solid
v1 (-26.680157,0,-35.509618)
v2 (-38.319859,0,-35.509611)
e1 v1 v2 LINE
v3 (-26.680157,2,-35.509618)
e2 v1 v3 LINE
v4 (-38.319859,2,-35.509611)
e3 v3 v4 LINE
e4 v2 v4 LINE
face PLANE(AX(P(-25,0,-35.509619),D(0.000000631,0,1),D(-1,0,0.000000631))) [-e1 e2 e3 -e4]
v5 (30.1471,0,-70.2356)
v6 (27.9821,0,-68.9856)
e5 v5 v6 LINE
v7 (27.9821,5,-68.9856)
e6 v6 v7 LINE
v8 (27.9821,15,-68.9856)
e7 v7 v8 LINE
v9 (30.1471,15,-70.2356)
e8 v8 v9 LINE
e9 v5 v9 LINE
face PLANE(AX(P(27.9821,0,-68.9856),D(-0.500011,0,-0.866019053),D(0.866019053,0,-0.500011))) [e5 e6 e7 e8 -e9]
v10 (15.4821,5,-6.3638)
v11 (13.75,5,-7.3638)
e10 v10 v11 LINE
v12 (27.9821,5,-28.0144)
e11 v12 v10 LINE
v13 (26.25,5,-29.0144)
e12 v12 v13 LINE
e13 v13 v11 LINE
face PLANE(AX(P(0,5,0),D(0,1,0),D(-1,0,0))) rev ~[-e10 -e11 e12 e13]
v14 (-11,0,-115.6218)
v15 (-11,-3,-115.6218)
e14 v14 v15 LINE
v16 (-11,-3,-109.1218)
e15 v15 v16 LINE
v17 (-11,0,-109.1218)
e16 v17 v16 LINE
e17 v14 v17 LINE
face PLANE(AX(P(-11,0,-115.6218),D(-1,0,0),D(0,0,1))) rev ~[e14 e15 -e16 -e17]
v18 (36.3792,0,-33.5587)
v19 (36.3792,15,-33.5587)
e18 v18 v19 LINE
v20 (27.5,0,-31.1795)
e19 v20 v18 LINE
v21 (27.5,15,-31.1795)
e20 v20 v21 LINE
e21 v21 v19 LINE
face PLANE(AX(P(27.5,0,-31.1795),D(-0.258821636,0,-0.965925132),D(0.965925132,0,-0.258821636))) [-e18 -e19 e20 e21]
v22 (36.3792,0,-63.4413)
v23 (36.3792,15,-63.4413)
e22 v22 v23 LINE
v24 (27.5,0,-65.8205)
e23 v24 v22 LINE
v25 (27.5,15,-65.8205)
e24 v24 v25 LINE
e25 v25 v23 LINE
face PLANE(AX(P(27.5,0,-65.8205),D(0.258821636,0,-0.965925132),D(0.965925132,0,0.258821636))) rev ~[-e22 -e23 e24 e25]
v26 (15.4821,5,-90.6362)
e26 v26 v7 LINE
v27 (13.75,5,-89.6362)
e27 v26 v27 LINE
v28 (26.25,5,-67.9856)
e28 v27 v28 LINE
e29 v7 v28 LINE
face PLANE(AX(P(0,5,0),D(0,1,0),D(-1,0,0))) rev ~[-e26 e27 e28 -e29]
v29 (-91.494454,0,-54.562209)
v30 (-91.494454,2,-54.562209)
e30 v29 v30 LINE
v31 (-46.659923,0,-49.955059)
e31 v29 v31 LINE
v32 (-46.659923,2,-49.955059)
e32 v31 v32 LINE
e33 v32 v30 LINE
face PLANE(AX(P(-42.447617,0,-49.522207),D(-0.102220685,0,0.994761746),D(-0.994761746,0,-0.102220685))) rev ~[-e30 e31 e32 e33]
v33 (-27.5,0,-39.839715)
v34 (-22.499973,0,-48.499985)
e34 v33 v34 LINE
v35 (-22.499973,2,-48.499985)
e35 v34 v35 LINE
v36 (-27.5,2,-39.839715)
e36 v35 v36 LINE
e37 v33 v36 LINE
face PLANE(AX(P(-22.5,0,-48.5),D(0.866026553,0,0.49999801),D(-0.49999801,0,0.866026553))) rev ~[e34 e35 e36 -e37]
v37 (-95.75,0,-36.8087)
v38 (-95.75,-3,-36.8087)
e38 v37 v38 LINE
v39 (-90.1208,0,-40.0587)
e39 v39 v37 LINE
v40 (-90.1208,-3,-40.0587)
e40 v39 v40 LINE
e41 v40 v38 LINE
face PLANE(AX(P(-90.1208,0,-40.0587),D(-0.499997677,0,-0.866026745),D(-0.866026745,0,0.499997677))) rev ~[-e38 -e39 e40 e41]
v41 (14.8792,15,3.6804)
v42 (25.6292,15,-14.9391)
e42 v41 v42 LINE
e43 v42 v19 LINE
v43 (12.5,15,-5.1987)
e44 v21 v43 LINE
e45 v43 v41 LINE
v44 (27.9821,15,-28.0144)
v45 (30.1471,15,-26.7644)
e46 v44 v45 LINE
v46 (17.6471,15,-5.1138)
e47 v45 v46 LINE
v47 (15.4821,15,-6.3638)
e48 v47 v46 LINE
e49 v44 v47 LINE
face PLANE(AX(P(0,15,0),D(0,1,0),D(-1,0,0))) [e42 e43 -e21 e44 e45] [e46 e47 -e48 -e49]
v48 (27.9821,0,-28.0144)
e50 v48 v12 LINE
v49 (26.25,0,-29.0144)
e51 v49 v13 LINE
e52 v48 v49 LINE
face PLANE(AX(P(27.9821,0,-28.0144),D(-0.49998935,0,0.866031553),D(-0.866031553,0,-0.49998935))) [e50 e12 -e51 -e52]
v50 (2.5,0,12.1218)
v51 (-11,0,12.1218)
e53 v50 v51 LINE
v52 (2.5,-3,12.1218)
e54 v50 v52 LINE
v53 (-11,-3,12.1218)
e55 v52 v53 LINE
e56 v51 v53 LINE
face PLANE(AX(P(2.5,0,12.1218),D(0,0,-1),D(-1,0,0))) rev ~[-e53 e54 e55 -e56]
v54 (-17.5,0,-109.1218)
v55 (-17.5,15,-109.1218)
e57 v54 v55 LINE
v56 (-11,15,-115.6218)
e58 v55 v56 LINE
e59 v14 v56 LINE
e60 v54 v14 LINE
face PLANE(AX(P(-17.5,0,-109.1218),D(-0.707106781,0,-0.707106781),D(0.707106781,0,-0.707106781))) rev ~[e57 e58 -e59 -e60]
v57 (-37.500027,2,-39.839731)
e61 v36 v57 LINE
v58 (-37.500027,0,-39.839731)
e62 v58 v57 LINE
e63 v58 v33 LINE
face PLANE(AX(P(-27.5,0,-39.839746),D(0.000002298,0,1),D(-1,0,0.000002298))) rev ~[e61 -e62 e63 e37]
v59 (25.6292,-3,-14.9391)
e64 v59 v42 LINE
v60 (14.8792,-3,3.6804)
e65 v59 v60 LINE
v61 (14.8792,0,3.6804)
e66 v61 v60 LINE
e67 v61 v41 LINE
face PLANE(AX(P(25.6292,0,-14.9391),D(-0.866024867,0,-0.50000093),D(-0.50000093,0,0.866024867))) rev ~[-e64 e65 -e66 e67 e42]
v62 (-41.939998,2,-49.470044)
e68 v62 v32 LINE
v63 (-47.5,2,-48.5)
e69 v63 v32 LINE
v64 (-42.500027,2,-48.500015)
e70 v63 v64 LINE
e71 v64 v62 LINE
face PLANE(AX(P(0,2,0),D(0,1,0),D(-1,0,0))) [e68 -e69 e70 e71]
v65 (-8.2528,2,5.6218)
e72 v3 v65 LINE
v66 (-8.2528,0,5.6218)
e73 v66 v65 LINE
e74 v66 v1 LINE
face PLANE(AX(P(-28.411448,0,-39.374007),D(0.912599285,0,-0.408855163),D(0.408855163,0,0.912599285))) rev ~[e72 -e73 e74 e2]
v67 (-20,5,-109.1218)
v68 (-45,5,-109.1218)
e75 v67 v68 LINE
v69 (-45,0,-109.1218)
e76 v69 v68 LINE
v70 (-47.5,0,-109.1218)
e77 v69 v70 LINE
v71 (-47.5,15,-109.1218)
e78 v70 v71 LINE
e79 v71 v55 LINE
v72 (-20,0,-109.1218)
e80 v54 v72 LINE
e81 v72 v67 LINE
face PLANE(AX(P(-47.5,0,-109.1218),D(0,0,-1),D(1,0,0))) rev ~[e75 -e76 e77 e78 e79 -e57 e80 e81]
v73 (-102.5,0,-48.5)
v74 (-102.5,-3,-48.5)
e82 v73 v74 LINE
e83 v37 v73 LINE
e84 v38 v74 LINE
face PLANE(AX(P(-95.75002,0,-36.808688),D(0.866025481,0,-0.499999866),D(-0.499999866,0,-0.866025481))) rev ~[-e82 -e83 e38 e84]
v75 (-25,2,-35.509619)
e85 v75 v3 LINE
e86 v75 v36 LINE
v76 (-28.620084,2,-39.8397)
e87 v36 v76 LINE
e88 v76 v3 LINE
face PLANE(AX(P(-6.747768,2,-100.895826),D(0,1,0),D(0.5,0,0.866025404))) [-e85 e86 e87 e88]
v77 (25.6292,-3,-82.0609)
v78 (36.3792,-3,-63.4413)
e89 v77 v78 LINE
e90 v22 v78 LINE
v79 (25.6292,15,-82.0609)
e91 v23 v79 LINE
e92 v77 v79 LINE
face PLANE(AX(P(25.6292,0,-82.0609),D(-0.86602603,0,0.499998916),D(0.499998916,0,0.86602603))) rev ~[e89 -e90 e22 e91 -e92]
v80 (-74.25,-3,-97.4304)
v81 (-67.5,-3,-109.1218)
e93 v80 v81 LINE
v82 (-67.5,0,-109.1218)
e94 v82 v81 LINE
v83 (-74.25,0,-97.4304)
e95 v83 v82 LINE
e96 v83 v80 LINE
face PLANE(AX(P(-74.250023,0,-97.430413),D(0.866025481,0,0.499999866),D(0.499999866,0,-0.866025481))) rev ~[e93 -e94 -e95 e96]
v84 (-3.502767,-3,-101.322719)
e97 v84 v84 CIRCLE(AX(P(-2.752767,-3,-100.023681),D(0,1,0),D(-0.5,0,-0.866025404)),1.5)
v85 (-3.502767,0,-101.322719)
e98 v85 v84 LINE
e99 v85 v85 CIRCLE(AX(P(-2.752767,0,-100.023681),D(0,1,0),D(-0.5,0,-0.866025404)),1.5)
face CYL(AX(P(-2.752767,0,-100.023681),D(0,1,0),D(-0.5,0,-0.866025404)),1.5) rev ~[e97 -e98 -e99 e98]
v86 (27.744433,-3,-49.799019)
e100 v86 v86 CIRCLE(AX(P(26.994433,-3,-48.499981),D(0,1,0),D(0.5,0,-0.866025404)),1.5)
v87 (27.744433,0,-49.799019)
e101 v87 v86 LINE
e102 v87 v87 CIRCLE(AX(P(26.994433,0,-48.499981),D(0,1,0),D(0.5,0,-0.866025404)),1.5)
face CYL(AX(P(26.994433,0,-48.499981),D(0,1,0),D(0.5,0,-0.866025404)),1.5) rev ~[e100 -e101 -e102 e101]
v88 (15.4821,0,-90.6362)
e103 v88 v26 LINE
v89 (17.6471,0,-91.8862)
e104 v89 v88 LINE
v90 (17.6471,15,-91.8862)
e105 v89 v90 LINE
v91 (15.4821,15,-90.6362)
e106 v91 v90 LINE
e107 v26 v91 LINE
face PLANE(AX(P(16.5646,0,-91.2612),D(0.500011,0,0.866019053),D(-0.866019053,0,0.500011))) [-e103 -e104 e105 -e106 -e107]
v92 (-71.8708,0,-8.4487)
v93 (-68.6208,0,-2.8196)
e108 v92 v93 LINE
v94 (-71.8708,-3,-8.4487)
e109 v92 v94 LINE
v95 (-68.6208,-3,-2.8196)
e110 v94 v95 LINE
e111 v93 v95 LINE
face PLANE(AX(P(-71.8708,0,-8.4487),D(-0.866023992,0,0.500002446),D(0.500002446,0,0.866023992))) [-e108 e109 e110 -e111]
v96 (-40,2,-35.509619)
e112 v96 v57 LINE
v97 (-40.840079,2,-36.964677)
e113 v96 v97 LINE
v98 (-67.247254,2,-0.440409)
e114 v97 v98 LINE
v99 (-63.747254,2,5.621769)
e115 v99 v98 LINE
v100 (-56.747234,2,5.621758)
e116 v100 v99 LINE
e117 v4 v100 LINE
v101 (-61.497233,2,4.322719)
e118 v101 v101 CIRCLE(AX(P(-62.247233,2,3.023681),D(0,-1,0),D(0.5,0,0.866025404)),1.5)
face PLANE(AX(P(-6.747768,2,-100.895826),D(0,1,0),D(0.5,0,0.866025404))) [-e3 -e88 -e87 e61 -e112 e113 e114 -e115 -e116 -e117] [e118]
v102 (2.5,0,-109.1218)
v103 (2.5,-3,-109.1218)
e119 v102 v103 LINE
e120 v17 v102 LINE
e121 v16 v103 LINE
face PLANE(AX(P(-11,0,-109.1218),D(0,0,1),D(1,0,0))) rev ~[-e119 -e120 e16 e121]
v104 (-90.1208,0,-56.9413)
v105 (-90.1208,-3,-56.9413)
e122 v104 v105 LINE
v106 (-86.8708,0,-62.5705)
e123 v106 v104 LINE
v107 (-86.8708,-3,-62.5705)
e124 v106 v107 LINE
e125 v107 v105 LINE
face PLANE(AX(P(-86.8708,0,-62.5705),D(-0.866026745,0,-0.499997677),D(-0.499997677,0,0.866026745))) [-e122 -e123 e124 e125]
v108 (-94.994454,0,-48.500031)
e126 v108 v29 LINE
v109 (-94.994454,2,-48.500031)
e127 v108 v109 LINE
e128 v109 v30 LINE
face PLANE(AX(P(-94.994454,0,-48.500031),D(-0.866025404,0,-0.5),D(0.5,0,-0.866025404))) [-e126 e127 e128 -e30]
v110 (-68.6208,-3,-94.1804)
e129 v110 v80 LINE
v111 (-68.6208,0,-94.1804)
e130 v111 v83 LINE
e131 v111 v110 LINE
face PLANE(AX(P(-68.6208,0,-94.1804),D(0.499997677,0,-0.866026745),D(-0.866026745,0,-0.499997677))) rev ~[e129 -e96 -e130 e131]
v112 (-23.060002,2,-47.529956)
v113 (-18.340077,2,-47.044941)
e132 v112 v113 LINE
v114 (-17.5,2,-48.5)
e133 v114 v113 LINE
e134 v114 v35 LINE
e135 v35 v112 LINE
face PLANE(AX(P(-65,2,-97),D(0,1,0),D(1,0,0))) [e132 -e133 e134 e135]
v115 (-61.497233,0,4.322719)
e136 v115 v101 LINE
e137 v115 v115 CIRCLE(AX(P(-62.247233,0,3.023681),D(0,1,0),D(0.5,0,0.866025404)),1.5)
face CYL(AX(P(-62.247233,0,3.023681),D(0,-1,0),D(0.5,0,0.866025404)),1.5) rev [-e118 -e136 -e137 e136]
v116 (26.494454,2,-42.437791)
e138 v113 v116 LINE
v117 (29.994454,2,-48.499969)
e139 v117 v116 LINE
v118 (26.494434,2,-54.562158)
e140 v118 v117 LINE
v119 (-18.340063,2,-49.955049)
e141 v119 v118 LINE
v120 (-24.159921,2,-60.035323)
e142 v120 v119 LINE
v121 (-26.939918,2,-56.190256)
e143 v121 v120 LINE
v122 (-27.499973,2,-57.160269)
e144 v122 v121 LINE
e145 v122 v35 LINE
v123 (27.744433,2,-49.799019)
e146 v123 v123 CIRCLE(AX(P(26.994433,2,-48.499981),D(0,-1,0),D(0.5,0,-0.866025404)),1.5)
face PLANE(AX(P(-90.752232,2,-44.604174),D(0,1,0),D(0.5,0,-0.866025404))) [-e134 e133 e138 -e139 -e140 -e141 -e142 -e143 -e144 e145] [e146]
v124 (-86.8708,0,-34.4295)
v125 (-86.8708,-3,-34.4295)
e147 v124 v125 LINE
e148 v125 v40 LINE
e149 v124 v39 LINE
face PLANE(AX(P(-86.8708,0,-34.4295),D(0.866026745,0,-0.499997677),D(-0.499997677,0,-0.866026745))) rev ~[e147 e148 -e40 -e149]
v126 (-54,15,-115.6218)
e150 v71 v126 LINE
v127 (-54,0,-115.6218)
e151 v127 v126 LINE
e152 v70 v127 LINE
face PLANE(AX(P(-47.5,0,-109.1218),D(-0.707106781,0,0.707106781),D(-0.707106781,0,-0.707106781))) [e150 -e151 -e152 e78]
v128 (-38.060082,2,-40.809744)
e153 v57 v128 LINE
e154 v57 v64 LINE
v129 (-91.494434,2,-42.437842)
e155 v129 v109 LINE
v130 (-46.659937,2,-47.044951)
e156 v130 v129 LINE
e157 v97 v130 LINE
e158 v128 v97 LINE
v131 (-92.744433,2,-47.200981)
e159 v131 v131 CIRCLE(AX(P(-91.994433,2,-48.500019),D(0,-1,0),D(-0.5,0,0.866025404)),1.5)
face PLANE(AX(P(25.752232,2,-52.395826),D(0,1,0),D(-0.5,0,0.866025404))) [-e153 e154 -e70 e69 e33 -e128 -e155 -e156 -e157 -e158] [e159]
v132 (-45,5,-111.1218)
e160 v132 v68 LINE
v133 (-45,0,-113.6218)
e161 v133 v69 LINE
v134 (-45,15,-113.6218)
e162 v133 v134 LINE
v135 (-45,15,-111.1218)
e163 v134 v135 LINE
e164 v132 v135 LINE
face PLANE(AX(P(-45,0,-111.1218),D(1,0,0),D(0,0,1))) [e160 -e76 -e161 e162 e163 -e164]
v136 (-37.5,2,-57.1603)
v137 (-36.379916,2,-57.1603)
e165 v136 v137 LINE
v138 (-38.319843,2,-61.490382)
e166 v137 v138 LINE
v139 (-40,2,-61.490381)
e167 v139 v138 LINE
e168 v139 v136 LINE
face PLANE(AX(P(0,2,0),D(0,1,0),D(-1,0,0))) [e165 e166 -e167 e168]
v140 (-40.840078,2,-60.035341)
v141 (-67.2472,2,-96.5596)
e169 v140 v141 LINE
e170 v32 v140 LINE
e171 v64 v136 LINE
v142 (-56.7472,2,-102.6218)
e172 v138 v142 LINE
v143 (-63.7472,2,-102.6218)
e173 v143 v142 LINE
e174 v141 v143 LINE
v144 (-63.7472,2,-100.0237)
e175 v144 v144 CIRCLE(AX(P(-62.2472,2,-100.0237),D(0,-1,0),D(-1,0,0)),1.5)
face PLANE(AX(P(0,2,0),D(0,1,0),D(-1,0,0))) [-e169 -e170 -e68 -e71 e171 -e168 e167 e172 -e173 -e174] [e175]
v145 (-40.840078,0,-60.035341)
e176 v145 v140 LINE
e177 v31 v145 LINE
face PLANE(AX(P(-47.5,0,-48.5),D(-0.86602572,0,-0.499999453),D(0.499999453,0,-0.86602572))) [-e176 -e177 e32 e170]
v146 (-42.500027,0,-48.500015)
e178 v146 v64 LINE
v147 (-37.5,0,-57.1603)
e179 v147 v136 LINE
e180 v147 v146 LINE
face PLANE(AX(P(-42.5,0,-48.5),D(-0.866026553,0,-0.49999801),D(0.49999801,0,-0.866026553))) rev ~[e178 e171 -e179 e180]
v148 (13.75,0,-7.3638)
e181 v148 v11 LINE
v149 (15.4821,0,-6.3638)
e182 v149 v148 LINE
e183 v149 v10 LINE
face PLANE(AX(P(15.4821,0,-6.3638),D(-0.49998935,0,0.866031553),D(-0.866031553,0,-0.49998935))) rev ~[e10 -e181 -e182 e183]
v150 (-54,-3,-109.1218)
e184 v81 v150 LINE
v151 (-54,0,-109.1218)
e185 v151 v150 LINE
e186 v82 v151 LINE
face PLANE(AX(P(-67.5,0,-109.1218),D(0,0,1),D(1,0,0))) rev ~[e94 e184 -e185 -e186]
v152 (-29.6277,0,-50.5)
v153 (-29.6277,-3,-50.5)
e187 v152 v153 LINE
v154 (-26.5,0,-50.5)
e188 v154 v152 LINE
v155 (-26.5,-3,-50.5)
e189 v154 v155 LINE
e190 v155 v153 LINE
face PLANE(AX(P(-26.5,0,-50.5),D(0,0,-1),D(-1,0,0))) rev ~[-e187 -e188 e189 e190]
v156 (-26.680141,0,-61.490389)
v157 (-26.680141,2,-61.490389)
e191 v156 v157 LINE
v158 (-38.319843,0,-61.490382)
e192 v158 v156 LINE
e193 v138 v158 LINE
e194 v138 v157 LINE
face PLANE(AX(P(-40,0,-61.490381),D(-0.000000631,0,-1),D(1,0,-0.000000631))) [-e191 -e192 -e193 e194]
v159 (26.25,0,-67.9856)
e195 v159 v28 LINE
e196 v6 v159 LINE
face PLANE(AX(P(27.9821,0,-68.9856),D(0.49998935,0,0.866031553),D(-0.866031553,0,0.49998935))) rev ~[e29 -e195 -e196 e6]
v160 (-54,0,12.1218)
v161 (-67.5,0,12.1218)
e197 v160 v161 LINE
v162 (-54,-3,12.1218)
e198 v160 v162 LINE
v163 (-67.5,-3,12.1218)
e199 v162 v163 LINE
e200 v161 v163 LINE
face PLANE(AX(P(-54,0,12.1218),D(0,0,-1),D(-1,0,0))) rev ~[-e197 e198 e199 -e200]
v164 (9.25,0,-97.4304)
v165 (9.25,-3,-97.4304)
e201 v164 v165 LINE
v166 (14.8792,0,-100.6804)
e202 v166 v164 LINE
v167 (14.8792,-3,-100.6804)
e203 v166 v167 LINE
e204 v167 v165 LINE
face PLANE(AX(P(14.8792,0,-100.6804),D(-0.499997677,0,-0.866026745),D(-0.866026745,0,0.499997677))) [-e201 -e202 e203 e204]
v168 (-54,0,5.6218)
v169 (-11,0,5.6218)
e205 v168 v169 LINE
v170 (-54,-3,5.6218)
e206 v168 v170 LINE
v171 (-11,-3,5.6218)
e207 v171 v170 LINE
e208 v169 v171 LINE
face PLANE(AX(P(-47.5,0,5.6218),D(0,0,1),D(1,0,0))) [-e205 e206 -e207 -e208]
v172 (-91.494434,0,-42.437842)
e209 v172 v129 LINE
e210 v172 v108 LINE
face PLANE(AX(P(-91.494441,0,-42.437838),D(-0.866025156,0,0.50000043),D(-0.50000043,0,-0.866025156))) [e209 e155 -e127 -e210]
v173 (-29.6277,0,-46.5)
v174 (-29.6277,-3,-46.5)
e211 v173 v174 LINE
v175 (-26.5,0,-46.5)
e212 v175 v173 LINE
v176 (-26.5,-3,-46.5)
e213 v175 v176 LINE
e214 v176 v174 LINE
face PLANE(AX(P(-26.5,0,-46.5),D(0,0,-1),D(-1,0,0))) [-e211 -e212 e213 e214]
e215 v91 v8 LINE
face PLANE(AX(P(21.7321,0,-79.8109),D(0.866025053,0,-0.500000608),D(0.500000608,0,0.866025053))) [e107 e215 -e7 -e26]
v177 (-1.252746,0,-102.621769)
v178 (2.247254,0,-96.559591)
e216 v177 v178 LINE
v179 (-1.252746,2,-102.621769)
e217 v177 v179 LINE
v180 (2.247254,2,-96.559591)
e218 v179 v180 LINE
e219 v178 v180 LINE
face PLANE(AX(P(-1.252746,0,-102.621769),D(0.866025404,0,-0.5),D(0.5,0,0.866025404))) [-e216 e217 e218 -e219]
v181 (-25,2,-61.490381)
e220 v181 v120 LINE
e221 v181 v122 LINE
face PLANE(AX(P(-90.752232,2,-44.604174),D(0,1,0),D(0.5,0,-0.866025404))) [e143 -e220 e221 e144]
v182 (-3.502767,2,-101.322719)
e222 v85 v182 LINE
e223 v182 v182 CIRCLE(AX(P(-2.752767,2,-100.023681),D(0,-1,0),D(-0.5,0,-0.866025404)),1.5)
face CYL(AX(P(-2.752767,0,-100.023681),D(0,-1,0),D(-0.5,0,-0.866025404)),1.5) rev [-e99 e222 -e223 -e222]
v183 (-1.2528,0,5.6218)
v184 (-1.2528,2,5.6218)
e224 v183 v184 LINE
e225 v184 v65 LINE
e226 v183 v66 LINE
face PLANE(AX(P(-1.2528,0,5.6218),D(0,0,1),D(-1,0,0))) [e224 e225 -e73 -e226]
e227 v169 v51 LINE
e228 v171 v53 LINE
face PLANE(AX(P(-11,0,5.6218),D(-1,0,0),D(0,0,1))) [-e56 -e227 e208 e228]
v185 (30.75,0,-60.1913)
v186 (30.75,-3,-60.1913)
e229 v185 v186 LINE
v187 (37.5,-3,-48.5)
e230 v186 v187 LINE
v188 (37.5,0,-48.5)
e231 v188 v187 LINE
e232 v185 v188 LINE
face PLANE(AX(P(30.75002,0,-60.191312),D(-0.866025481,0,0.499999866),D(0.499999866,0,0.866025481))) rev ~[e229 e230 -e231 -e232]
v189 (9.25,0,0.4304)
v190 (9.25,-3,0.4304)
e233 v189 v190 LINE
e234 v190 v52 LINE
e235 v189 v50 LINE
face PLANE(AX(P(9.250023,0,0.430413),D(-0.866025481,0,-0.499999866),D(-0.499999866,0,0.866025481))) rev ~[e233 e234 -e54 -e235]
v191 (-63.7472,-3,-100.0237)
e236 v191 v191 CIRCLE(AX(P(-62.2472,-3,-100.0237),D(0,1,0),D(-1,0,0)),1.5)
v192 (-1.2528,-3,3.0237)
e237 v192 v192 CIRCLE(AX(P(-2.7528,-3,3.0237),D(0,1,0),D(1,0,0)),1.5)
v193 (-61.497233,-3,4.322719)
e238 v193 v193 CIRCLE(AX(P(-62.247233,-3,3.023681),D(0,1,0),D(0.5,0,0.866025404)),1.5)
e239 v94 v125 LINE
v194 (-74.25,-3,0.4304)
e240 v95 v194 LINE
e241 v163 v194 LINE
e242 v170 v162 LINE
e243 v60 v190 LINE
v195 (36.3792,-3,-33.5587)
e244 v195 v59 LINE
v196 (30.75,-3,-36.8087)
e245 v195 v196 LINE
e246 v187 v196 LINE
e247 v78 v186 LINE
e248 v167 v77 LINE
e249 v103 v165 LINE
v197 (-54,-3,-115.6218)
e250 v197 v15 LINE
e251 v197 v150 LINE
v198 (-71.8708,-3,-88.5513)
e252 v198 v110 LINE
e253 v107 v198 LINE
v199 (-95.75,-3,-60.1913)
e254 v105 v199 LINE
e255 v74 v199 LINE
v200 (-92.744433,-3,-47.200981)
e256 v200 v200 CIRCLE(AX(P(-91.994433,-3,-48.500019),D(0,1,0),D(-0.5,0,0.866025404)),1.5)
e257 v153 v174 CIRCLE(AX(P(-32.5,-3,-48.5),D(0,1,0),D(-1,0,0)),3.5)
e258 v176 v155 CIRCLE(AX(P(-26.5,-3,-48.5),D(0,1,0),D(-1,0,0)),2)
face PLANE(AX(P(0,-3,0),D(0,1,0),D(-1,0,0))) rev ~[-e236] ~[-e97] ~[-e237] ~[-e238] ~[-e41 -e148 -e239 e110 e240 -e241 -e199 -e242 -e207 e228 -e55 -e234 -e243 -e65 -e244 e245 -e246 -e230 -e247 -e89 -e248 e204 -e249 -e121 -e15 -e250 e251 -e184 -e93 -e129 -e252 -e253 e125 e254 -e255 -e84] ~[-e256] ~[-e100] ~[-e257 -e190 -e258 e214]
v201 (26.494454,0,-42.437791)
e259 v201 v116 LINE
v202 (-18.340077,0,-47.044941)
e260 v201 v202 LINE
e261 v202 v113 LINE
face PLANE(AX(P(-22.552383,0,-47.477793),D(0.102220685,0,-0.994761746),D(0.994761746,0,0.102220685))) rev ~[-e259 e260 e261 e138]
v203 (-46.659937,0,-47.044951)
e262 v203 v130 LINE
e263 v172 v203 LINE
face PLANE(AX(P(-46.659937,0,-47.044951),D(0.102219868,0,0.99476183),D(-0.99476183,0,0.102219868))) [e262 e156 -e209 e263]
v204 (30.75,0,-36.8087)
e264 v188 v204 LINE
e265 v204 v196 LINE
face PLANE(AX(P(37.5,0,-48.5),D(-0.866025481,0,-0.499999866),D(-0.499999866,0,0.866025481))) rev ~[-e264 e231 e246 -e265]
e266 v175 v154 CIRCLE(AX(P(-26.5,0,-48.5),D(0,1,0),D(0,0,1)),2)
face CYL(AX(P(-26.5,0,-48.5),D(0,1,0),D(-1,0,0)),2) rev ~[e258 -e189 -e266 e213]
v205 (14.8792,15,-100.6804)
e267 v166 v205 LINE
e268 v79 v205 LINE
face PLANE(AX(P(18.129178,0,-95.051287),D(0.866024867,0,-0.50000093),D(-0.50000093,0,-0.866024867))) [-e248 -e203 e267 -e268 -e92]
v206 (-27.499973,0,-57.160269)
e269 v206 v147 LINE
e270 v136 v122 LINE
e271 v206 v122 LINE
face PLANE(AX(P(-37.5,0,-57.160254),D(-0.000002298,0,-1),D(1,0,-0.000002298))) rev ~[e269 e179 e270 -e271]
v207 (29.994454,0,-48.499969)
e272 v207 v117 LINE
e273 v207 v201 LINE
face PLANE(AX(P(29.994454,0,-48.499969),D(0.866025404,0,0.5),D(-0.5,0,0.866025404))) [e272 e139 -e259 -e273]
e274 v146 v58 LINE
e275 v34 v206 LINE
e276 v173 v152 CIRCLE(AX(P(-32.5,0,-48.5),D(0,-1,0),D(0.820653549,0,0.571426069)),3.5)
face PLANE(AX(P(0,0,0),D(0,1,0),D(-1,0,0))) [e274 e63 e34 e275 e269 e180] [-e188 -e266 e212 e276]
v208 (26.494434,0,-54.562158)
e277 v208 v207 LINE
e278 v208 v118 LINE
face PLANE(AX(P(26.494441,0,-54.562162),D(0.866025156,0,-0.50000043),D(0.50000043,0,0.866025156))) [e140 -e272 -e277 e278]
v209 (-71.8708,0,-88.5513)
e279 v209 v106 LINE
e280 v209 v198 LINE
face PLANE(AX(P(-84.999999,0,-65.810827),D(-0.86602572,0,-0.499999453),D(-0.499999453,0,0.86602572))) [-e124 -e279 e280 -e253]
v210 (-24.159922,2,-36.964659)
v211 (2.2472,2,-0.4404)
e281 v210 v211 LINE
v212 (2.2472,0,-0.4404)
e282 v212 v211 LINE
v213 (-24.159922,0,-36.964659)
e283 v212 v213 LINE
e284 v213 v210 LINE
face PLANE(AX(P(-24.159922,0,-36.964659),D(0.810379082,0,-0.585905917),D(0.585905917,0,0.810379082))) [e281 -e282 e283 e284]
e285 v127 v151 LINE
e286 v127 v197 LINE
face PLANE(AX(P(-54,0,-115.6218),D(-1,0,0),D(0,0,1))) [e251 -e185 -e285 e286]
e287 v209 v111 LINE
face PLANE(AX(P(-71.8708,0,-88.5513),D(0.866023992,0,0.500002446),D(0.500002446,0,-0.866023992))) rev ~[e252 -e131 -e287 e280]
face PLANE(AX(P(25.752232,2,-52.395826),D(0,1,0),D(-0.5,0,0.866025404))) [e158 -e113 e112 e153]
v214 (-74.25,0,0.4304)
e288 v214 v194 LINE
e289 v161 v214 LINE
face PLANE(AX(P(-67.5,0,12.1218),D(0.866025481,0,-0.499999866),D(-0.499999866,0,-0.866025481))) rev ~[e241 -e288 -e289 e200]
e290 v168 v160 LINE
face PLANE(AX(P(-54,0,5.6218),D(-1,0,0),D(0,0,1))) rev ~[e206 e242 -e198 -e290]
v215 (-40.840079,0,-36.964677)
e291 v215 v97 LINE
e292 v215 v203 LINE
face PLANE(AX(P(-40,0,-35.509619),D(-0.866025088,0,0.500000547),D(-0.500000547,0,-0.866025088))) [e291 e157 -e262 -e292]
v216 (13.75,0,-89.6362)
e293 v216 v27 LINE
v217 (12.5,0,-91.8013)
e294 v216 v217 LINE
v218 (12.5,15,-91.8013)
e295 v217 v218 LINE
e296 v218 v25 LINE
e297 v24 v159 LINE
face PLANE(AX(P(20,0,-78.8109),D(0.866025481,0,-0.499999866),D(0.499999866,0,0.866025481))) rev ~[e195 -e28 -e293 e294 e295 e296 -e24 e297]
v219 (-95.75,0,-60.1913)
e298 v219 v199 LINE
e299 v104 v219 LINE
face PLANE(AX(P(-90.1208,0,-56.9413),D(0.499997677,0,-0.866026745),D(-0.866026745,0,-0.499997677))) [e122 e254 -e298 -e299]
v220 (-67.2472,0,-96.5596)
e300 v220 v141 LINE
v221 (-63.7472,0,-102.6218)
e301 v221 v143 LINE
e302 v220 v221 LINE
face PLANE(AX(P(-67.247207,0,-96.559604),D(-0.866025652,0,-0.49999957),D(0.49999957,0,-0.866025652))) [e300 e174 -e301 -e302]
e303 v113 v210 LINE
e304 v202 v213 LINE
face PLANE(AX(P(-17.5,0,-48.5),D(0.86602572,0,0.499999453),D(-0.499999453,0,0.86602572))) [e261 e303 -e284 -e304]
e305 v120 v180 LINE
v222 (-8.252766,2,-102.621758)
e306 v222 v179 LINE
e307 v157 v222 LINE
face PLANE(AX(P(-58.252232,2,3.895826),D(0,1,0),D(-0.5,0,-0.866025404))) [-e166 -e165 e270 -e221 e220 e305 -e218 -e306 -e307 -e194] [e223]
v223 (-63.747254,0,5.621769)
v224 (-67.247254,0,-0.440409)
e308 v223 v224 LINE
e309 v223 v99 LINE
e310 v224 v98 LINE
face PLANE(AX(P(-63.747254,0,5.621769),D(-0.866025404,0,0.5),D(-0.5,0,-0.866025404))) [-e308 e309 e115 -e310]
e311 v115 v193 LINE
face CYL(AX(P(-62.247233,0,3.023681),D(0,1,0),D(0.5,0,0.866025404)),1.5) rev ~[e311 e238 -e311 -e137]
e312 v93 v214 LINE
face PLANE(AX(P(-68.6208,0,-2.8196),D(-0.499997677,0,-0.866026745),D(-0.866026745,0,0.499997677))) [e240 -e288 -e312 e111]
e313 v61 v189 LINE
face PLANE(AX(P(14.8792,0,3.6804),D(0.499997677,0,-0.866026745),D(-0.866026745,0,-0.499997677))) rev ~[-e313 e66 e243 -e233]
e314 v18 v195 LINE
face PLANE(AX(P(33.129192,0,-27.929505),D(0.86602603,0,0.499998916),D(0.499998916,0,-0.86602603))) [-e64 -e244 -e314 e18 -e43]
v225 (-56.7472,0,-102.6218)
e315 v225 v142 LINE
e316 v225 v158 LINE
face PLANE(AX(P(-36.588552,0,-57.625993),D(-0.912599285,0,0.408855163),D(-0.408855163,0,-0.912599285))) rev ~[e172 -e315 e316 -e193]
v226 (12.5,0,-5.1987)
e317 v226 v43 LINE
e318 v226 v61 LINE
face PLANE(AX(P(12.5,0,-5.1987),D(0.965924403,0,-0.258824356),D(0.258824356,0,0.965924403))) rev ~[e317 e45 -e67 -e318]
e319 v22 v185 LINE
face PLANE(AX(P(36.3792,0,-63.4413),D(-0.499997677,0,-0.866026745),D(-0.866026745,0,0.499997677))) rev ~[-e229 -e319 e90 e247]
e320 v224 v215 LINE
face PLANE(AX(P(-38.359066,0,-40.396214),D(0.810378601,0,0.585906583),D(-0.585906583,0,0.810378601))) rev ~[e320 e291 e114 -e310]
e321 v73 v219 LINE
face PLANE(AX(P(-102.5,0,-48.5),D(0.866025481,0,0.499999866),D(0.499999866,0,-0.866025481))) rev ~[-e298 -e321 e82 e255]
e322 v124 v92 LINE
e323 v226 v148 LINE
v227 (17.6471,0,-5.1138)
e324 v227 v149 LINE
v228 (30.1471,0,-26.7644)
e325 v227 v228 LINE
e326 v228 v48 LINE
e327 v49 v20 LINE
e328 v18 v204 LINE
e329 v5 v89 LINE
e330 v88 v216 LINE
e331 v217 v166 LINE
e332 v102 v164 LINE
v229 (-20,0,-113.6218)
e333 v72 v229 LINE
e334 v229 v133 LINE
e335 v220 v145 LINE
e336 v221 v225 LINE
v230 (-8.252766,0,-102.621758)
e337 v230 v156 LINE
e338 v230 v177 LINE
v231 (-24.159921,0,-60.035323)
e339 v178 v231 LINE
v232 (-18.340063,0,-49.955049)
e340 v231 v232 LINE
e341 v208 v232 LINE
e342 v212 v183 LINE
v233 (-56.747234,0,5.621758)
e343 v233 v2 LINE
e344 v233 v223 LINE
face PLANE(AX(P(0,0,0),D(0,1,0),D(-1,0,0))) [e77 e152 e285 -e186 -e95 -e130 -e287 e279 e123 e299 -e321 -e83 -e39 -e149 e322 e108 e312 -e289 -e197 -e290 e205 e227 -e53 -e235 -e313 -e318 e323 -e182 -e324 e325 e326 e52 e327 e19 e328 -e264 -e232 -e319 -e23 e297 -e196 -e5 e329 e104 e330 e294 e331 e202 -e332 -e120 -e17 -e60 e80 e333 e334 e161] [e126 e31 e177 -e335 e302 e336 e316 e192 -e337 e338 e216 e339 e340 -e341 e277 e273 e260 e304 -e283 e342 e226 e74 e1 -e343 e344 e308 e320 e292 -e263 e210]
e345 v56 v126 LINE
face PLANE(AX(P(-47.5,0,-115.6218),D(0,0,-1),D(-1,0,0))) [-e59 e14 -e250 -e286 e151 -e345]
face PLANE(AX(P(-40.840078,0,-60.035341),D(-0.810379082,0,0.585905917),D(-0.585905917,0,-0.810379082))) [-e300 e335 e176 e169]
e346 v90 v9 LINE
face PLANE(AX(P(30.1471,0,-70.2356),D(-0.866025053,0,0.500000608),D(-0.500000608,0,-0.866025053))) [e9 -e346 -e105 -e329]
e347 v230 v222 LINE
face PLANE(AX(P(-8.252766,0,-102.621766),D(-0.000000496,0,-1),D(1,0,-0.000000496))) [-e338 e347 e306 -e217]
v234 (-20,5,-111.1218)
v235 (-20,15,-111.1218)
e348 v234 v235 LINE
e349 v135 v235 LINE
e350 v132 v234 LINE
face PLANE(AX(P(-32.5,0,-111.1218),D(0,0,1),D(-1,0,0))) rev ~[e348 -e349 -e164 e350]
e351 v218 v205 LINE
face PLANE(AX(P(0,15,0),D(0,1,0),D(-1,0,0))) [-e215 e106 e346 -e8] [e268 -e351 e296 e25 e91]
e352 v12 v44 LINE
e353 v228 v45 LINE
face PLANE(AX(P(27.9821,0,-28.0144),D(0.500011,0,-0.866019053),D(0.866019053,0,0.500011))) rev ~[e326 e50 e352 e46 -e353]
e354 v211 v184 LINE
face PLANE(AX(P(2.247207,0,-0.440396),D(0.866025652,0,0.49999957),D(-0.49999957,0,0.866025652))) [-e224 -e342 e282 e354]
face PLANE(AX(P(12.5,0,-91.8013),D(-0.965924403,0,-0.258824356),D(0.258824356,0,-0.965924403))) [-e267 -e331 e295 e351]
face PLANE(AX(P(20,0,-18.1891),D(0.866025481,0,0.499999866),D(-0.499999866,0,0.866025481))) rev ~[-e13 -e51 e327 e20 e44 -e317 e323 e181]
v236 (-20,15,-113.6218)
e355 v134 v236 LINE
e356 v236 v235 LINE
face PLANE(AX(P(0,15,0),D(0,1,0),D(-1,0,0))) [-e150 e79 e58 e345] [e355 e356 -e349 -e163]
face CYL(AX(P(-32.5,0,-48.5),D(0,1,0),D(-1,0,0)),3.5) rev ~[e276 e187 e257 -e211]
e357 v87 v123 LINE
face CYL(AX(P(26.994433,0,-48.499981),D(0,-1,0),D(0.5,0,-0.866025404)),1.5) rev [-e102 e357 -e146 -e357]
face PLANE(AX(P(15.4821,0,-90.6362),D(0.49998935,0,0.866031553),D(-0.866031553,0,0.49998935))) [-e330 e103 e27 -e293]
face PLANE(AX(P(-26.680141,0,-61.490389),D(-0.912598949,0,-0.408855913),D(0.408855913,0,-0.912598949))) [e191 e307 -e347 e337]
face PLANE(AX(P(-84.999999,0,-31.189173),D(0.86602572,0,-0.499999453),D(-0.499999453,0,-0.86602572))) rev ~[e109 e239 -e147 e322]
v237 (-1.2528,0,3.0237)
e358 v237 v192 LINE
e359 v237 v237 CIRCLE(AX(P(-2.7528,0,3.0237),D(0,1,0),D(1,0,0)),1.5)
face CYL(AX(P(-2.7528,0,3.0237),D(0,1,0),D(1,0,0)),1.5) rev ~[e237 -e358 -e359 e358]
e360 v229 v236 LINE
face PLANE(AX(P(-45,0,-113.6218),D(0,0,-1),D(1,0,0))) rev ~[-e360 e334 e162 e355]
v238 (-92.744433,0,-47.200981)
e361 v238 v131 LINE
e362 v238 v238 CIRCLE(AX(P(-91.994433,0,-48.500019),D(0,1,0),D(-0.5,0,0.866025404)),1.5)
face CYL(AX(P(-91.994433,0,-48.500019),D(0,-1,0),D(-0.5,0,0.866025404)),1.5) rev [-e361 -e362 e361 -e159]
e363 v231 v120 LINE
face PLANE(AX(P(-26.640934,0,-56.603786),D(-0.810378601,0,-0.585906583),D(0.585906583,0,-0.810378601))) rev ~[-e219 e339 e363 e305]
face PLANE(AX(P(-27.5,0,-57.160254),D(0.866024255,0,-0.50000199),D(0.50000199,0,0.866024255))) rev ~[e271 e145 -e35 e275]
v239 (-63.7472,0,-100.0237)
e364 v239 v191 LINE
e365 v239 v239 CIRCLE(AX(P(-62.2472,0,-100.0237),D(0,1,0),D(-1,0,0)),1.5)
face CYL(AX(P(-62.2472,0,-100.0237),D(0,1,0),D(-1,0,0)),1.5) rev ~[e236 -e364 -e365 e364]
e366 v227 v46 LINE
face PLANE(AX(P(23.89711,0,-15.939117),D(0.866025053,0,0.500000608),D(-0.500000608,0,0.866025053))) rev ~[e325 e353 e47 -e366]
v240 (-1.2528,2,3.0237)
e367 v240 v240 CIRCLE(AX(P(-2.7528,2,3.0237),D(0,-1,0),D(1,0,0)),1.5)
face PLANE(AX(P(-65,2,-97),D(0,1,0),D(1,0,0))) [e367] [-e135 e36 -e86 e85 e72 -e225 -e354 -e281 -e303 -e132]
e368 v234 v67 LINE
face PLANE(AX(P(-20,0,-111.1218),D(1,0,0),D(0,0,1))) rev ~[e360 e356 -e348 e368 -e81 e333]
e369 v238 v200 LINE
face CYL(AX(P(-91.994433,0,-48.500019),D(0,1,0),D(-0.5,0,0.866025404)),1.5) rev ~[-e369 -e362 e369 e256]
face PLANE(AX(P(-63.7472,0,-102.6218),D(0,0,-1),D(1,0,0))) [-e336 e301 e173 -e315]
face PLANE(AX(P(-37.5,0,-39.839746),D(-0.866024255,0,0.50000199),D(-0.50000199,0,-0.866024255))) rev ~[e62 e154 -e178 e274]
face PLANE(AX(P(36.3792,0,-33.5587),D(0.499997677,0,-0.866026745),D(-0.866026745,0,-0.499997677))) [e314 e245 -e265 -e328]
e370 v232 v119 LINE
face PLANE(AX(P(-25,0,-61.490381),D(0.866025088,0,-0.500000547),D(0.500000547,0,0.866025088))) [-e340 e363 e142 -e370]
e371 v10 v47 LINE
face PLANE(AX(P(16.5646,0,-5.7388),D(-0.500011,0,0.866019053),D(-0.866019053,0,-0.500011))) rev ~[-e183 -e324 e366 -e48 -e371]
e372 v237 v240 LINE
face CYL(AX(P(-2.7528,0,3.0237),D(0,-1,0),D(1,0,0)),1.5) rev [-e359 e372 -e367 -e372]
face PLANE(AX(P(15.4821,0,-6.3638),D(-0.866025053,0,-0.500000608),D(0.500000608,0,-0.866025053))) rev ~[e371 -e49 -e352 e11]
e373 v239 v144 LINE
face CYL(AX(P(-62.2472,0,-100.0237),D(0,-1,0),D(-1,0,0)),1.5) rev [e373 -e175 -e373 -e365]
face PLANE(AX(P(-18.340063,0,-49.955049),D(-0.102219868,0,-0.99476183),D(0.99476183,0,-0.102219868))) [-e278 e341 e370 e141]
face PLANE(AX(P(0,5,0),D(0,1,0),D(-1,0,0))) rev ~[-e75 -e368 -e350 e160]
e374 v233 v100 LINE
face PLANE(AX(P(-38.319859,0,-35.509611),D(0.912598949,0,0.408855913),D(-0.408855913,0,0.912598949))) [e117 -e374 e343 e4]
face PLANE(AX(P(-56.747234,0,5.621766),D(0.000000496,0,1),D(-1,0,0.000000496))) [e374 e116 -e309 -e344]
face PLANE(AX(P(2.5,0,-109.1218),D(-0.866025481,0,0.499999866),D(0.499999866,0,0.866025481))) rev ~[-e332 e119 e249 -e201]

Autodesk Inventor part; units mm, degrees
ref_plane "YZ Plane" through (0, 0, 0) normal (1, 0, 0) x (0, 1, 0)
ref_plane "XZ Plane" through (0, 0, 0) normal (0, 1, 0) x (-1, 0, 0)
ref_plane "XY Plane" through (0, 0, 0) normal (0, 0, 1) x (1, 0, 0)
sketch "Sketch6" plane through (0, 0, 0) normal (0, 1, 0) x (-1, 0, 0)
  line L0 (102.5, -48.5) -> (-37.5, -48.5)
  line L1 (32.5, -118.5) -> (32.5, 21.5)
  line L2 (102.5, -48.5) -> (67.5, -109.1218)
  line L3 (67.5, -109.1218) -> (-2.5, -109.1218)
  line L4 (-2.5, -109.1218) -> (-37.5, -48.5)
  line L5 (-37.5, -48.5) -> (-2.5, 12.1218)
  line L6 (-2.5, 12.1218) -> (67.5, 12.1218)
  line L7 (67.5, 12.1218) -> (102.5, -48.5)
  line L8 (32.5, 12.1218) -> (85, -18.1891)
  line L9 (85, -18.1891) -> (85, -78.8109)
  line L10 (85, -78.8109) -> (32.5, -109.1218)
  line L11 (32.5, -109.1218) -> (-20, -78.8109)
  line L12 (-20, -78.8109) -> (-20, -18.1891)
  line L13 (-20, -18.1891) -> (32.5, 12.1218)
  line L14 (32.5, 12.1218) -> (47.5, 12.1218)
  line L15 (47.5, 12.1218) -> (47.5, 5.6218)
  line L16 (47.5, 5.6218) -> (17.5, 5.6218)
  line L17 (17.5, 5.6218) -> (17.5, 12.1218)
  line L18 (47.5, 5.6218) -> (56.6924, 5.6218) construction
  line L19 (17.5, 8.8718) -> (20, 8.8718)
  line L20 (47.5, 8.8718) -> (45, 8.8718)
  line L21 (45, 8.8718) -> (45, 10.1218)
  line L22 (45, 10.1218) -> (20, 10.1218)
  line L23 (20, 10.1218) -> (20, 7.6218)
  line L24 (20, 7.6218) -> (45, 7.6218)
  line L25 (45, 7.6218) -> (45, 10.1218)
  line L26 (67.5, 12.1218) -> (32.5, -48.5)
  line L27 (32.5, -48.5) -> (67.5, -109.1218)
  line L28 (47.5, 5.6218) -> (56.6924, 5.6218)
  line L29 (17.5, 5.6218) -> (11, 5.6218)
  line L30 (17.5, 12.1218) -> (11, 5.6218)
  line L31 (17.5, 12.1218) -> (26.6924, 12.1218) construction
  line L32 (47.5, 12.1218) -> (54, 5.6218)
  line L33 (85, -18.1891) -> (77.5, -5.1987)
  line L34 (77.5, -5.1987) -> (71.8708, -8.4487)
  line L35 (71.8708, -8.4487) -> (86.8708, -34.4295)
  line L36 (86.8708, -34.4295) -> (92.5, -31.1795)
  line L37 (71.8708, -8.4487) -> (67.2746, -0.4879) construction
  line L38 (89.6854, -32.8045) -> (88.4354, -30.6394)
  line L39 (74.6854, -6.8237) -> (75.9354, -8.9888)
  line L40 (75.9354, -8.9888) -> (77.0179, -8.3638)
  line L41 (77.0179, -8.3638) -> (89.5179, -30.0144)
  line L42 (89.5179, -30.0144) -> (87.3529, -31.2644)
  line L43 (87.3529, -31.2644) -> (74.8529, -9.6138)
  line L44 (74.8529, -9.6138) -> (77.0179, -8.3638)
  line L45 (71.8708, -8.4487) -> (67.2746, -0.4879)
  line L46 (86.8708, -34.4295) -> (90.1208, -40.0587)
  line L47 (92.5, -31.1795) -> (90.1208, -40.0587)
  line L48 (92.5, -31.1795) -> (87.9038, -23.2187) construction
  line L49 (77.5, -5.1987) -> (68.6208, -2.8196)
  line L50 (71.8708, -88.5513) -> (67.2746, -96.5121) construction
  line L51 (74.6854, -90.1763) -> (75.9354, -88.0112)
  line L52 (74.8529, -87.3862) -> (77.0179, -88.6362)
  line L53 (77.5, -91.8013) -> (71.8708, -88.5513)
  line L54 (77.5, -91.8013) -> (68.6208, -94.1804)
  line L55 (71.8708, -88.5513) -> (67.2746, -96.5121)
  line L56 (77.0179, -88.6362) -> (89.5179, -66.9856)
  line L57 (87.3529, -65.7356) -> (74.8529, -87.3862)
  line L58 (71.8708, -88.5513) -> (86.8708, -62.5705)
  line L59 (89.5179, -66.9856) -> (87.3529, -65.7356)
  line L60 (89.6854, -64.1955) -> (88.4354, -66.3606)
  line L61 (86.8708, -62.5705) -> (92.5, -65.8205)
  line L62 (86.8708, -62.5705) -> (90.1208, -56.9413)
  line L63 (92.5, -65.8205) -> (90.1208, -56.9413)
  line L64 (94.9944, -48.5) -> (63.7472, -102.6218)
  line L65 (-29.9944, -48.5) -> (1.2528, 5.6218)
  line L66 (1.2528, 5.6218) -> (63.7472, 5.6218)
  line L67 (63.7472, 5.6218) -> (94.9944, -48.5)
  line L68 (32.5, -109.1218) -> (32.5, -115.6218)
  line L69 (32.5, -115.6218) -> (54, -115.6218)
  line L70 (47.5, -115.6218) -> (47.5, -109.1218)
  line L71 (47.5, -109.1218) -> (54, -115.6218)
  line L72 (32.5, -115.6218) -> (11, -115.6218)
  line L73 (17.5, -115.6218) -> (17.5, -109.1218)
  line L74 (17.5, -109.1218) -> (11, -115.6218)
  line L75 (54, -115.6218) -> (54, -109.1218)
  line L76 (11, -115.6218) -> (11, -109.1218)
  line L77 (90.1208, -40.0587) -> (95.75, -36.8087)
  line L78 (68.6208, -2.8196) -> (74.25, 0.4304)
  line L79 (90.1208, -56.9413) -> (95.75, -60.1913)
  line L80 (68.6208, -94.1804) -> (74.25, -97.4304)
  line L81 (11, 5.6218) -> (11, 12.1218)
  line L82 (54, 5.6218) -> (54, 12.1218)
  line L83 (32.5, -109.1218) -> (32.5, -111.1218)
  line L84 (32.5, -111.1218) -> (45, -111.1218)
  line L85 (45, -111.1218) -> (45, -113.6218)
  line L86 (45, -113.6218) -> (20, -113.6218)
  line L87 (20, -113.6218) -> (20, -111.1218)
  line L88 (20, -111.1218) -> (32.5, -111.1218)
  line L89 (32.5, -48.5) -> (-2.5, -109.1218)
  line L90 (32.5, -48.5) -> (-2.5, 12.1218)
  line L91 (-20, -78.8109) -> (-25.6292, -82.0609)
  line L92 (-25.6292, -82.0609) -> (-36.3792, -63.4413)
  line L93 (-33.1292, -69.0705) -> (-27.5, -65.8205)
  line L94 (-27.5, -65.8205) -> (-36.3792, -63.4413)
  line L95 (-25.6292, -82.0609) -> (-14.8792, -100.6804)
  line L96 (-18.1292, -95.0513) -> (-12.5, -91.8013)
  line L97 (-12.5, -91.8013) -> (-14.8792, -100.6804)
  line L98 (-36.3792, -63.4413) -> (-30.75, -60.1913)
  line L99 (-14.8792, -100.6804) -> (-9.25, -97.4304)
  line L100 (-20, -78.8109) -> (-21.7321, -79.8109)
  line L101 (-21.7321, -79.8109) -> (-27.9821, -68.9856)
  line L102 (-27.9821, -68.9856) -> (-30.1471, -70.2356)
  line L103 (-30.1471, -70.2356) -> (-17.6471, -91.8862)
  line L104 (-17.6471, -91.8862) -> (-15.4821, -90.6362)
  line L105 (-15.4821, -90.6362) -> (-21.7321, -79.8109)
  line L106 (-20, -18.1891) -> (-25.6292, -14.9391)
  line L107 (-25.6292, -14.9391) -> (-36.3792, -33.5587)
  line L108 (-33.1292, -27.9295) -> (-27.5, -31.1795)
  line L109 (-27.5, -31.1795) -> (-36.3792, -33.5587)
  line L110 (-25.6292, -14.9391) -> (-14.8792, 3.6804)
  line L111 (-18.1292, -1.9487) -> (-12.5, -5.1987)
  line L112 (-15.4821, -6.3638) -> (-21.7321, -17.1891)
  line L113 (-20, -18.1891) -> (-21.7321, -17.1891)
  line L114 (-21.7321, -17.1891) -> (-27.9821, -28.0144)
  line L115 (-14.8792, 3.6804) -> (-9.25, 0.4304)
  line L116 (-12.5, -5.1987) -> (-14.8792, 3.6804)
  line L117 (-36.3792, -33.5587) -> (-30.75, -36.8087)
  line L118 (-17.6471, -5.1138) -> (-15.4821, -6.3638)
  line L119 (-27.9821, -28.0144) -> (-30.1471, -26.7644)
  line L120 (-30.1471, -26.7644) -> (-17.6471, -5.1138)
  line L121 (-29.0646, -27.3894) -> (-30.3146, -29.5545)
  line L122 (-29.0646, -69.6106) -> (-30.3146, -67.4455)
  line L123 (-16.5646, -91.2612) -> (-15.3146, -93.4263)
  line L124 (20, -112.3718) -> (17.5, -112.3718)
  line L125 (45, -112.3718) -> (47.5, -112.3718)
  line L126 (-15.3146, -3.5737) -> (-16.5646, -5.7388)
  line L127 (20, -111.1218) -> (20, -109.1218)
  line L128 (45, -111.1218) -> (45, -109.1218)
  line L129 (-15.4821, -90.6362) -> (-13.75, -89.6362)
  line L130 (-27.9821, -68.9856) -> (-26.25, -67.9856)
  line L131 (-15.4821, -6.3638) -> (-13.75, -7.3638)
  line L132 (-27.9821, -28.0144) -> (-26.25, -29.0144)
  line L133 (63.7472, -102.6218) -> (1.2528, -102.6218)
  line L134 (1.2528, -102.6218) -> (-29.9944, -48.5)
  line L135 (-29.9944, -48.5) -> (1.2528, 5.6218)
  line L136 (1.2528, 5.6218) -> (63.7472, 5.6218)
  line L137 (63.7472, 5.6218) -> (94.9944, -48.5)
  line L138 (94.9944, -48.5) -> (63.7472, -102.6218)
  line L139 (-29.9944, -48.5) -> (-27.9944, -48.5)
  line L140 (-27.9944, -48.5) -> (2.2528, 3.8897)
  line L141 (2.2528, 3.8897) -> (62.7472, 3.8897)
  line L142 (62.7472, 3.8897) -> (92.9944, -48.5)
  line L143 (92.9944, -48.5) -> (62.7472, -100.8897)
  line L144 (62.7472, -100.8897) -> (2.2528, -100.8897)
  line L145 (2.2528, -100.8897) -> (-27.9944, -48.5)
  line L146 (32.5, -48.5) -> (56.7472, -102.6218)
  line L147 (32.5, -48.5) -> (67.2472, -96.5596)
  line L148 (62.7472, -100.8897) -> (60.7472, -97.4256)
  line L149 (60.7472, -97.4256) -> (66.1352, -95.0216)
  line L150 (60.7472, -97.4256) -> (55.9712, -100.8897)
  line L151 (63.7472, -102.6218) -> (62.2472, -100.0237)
  circle A0 centre (62.2472, -100.0237) radius 1.5
  circle A1 centre (32.5, -48.5) radius 10
  circle A2 centre (32.5, -48.5) radius 15
  line L152 (22.5, -48.5) -> (27.5, -39.8397)
  line L153 (27.5, -39.8397) -> (37.5, -39.8397)
  line L154 (37.5, -39.8397) -> (42.5, -48.5)
  line L155 (42.5, -48.5) -> (37.5, -57.1603)
  line L156 (37.5, -57.1603) -> (27.5, -57.1603)
  line L157 (27.5, -57.1603) -> (22.5, -48.5)
  line L158 (17.5, -48.5) -> (25, -35.5096)
  line L159 (25, -35.5096) -> (40, -35.5096)
  line L160 (40, -35.5096) -> (47.5, -48.5)
  line L161 (47.5, -48.5) -> (40, -61.4904)
  line L162 (40, -61.4904) -> (25, -61.4904)
  line L163 (25, -61.4904) -> (17.5, -48.5)
  circle A3 centre (32.5, -48.5) radius 3.5
  line L164 (32.5, -48.5) -> (26.5, -48.5)
  circle A4 centre (26.5, -48.5) radius 2
  line L165 (26.5, -46.5) -> (29.6277, -46.5)
  line L166 (26.5, -50.5) -> (29.6277, -50.5)
  point P0 (32.5, -48.5)
  point P1 (63.6096, -99.3961)
  point P2 (61.0225, -100.8897)
  point P3 (40.8401, -60.0353)
  point P4 (38.3591, -56.6038)
  point P5 (38.06, -56.1902)
  point P6 (36.3799, -57.1603)
  dimension "d142" = 20
  dimension "d143" = 30
  dimension "d87" = 15
  dimension "d88" = 6.5
  dimension "d91" = 2.5
  dimension "d92" = 2.5
  dimension "d95" = 1.25
  dimension "d96" = 25
  dimension "d97" = 2.5
  dimension "d98" = 25
  dimension "d99" = 135
  dimension "d100" = 0
  dimension "d105" = 30
  dimension "d108" = 6.5
  dimension "d111" = 45
  dimension "d112" = 15
  dimension "d113" = 2
  dimension "d114" = 12.5
  dimension "d115" = 2.5
  dimension "d116" = 25
  dimension "d118" = 70
  dimension "d119" = 54.1218
  dimension "d120" = 1.25
  dimension "d127" = 2
  dimension "d130" = 7
  dimension "d136" = 4
  dimension "d138" = 3
  dimension "d139" = 3
  dimension "d144" = 7
  dimension "d145" = 6
  dimension "d146" = 4
extrude "Plate" add sketch "Sketch6" against normal blind 3 contours L2 L79 L64 L0 | L0 L67 L77 L7 | L64 L62 L58 L9 L143 L0 | L0 L142 L9 L35 L46 L67 | L143 L9 L0 | L0 L9 L142 | L9 L143 L10 L147 A2 L0 | L0 A2 L26 L8 L142 L9 | L142 L8 L35 L9 | L9 L58 L10 L143 | L161 L147 A1 L0 | L160 A2 | L0 A1 L26 L160 | A2 L147 L161 | L142 L26 L67 L45 L35 L8 | L8 L26 L142 | L143 L147 L10 | L10 L58 L55 L64 L147 L143 | L155 L147 A3 L0 | L154 A1 | L0 A3 L26 L154 | A1 L147 L155 | A2 L1 L141 L8 L26 | L159 L1 A2 | L26 A1 L1 L159 | A2 L161 L147 | L147 L10 L27 A2 | L161 L27 A1 L147 | L8 L141 L26 | L141 L8 L16 L28 L66 L26 | L147 L149 L27 L10 | L147 L64 L27 A0 L143 | L143 A0 L27 L149 | L2 L27 L64 L55 L80 | L78 L45 L67 L26 L7 | A3 L147 L0 | L0 L26 A3 | L153 L1 A1 | L26 A3 L1 L153 | A1 L155 L147 | L155 L27 A3 L147 | A2 L90 L13 L141 L1 | L1 L159 A2 | L1 A1 L90 L159 | L162 L146 A1 L27 | L27 L10 L146 A2 | A2 L146 L162 | L141 L1 L16 L8 | L66 L28 L82 L6 L26 | L27 L150 L146 L10 | A0 L27 L143 | L143 L27 A0 | L27 A0 L144 L150 | L3 L10 L133 L27 | L89 A3 L0 | L146 A3 L1 | L90 A3 L1 | L1 A3 L26 | L147 A3 L27 | L1 A3 L89 | L0 A3 L90 | L27 A3 L146 | L1 L153 A1 | L1 A3 L90 L153 | L156 L146 A3 L27 | A1 L146 L156 | L141 L13 L16 L1 | A2 L0 L12 L140 L13 L90 | L158 A2 | L90 A1 L0 L158 | A2 L1 L162 L146 | L146 L10 L144 L1 A2 | L162 L1 A1 L146 | L146 L144 L10 | L144 A0 L27 | L27 A0 L144 | L133 L146 L144 A0 L27 | L146 L133 L10 L144 | L75 L71 L3 | A3 L166 A4 L0 | L0 A4 L165 A3 | A3 L146 L156 L1 | L1 L156 L89 A3 | L89 L157 L0 A4 L166 A3 | A3 L165 A4 L0 L152 L90 | L152 A1 | A1 L1 L156 L146 | L141 L90 L66 L29 L16 L13 | L13 L90 L141 | L13 L140 L90 | A2 L89 L11 L145 L12 L0 | L163 A2 | L0 A1 L89 L163 | A2 L162 L1 | L1 L144 L11 L89 A2 | L162 L89 A1 L1 | L10 L133 L1 L144 | L70 L125 L85 L128 L3 | L71 L69 L70 | A4 L0 | L0 A4 | L1 A1 L156 | A1 L157 | L140 L13 L65 L90 | L140 L12 L65 L13 | L12 L145 L0 | L0 L140 L12 | L1 L133 L11 L144 | L10 L1 L133 | L128 L84 L1 L3 | L70 L69 L1 L86 L85 L125 | L90 L6 L81 L66 | L65 L13 L5 L90 | L65 L12 L13 | L140 L0 L65 L12 | L145 L12 L134 L0 | L145 L11 L134 L12 | L89 L145 L11 | L11 L144 L89 | L1 L11 L133 | L11 L133 L89 L144 | L1 L88 L127 L3 | L3 L89 L133 L11 | L85 L86 L1 L84 | L72 L73 L124 L87 L86 L1 | L12 L65 L0 L5 | L106 L112 L131 L5 | L5 L132 L114 L106 | L134 L12 L4 L0 | L134 L11 L12 | L145 L89 L134 L11 | L1 L86 L87 L88 | L127 L87 L124 L73 L3 | L72 L74 L73 | L5 L116 L115 | L5 L108 L121 L119 L132 | L131 L118 L126 L111 L5 | L114 L119 L120 L106 | L106 L120 L118 L112 | L11 L134 L89 L4 | L91 L101 L130 L4 | L4 L129 L105 L91 | L74 L76 L3 | L111 L110 L116 | L109 L107 L108 | L5 L117 L109 | L120 L119 L121 L108 L107 L106 | L106 L110 L111 L126 L118 L120 | L4 L94 L98 | L4 L96 L123 L104 L129 | L130 L102 L122 L93 L4 | L105 L104 L103 L91 | L91 L103 L102 L101 | L93 L92 L94 | L97 L95 L96 | L4 L99 L97 | L103 L104 L123 L96 L95 L91 | L91 L92 L93 L122 L102 L103
extrude "Cazzetti" add sketch "Sketch6" along normal blind 15 contours L70 L125 L85 L128 L3 | L71 L69 L70 | L128 L84 L1 L3 | L70 L69 L1 L86 L85 L125 | L1 L88 L127 L3 | L72 L73 L124 L87 L86 L1 | L106 L112 L131 L5 | L5 L132 L114 L106 | L127 L87 L124 L73 L3 | L72 L74 L73 | L5 L108 L121 L119 L132 | L131 L118 L126 L111 L5 | L91 L101 L130 L4 | L4 L129 L105 L91 | L111 L110 L116 | L109 L107 L108 | L120 L119 L121 L108 L107 L106 | L106 L110 L111 L126 L118 L120 | L4 L96 L123 L104 L129 | L130 L102 L122 L93 L4 | L93 L92 L94 | L97 L95 L96 | L103 L104 L123 L96 L95 L91 | L91 L92 L93 L122 L102 L103
extrude "ScavoStrip" cut sketch "Sketch6" along normal blind 5 contours L128 L84 L1 L3 | L1 L88 L127 L3 | L106 L112 L131 L5 | L5 L132 L114 L106 | L91 L101 L130 L4 | L4 L129 L105 L91
extrude "ScalinoAllineamento" add sketch "Sketch6" along normal blind 2 contours L161 L147 A1 L0 | A1 L147 L155 | A2 L161 L147 | L147 L10 L27 A2 | L161 L27 A1 L147 | L147 L149 L27 L10 | L147 L64 L27 A0 L143 | L143 A0 L27 L149 | A1 L155 L147 | L162 L146 A1 L27 | L27 L10 L146 A2 | A2 L146 L162 | L27 L150 L146 L10 | L27 A0 L144 L150 | A1 L146 L156 | L133 L146 L144 A0 L27 picked at (40.4263, -60.9175)
extrude "Foro" cut sketch "Sketch6" against normal blind 9.25 contours A0 L27 L143 | L143 L27 A0 | L144 A0 L27 | L27 A0 L144
pattern_circular "ScalinoCircolare" count 6 over 360 about axis through (-32.5, 0, -48.5) along (0, 1, 0) of "ScalinoAllineamento", "Foro"
extrude "Extrusion15" cut sketch "Sketch6" against normal blind 10 contours A3 L147 L0 | L0 L26 A3 | L89 A3 L0 | L146 A3 L1 | L90 A3 L1 | L1 A3 L26 | L147 A3 L27 | L1 A3 L89 | L0 A3 L90 | L27 A3 L146 | A3 L166 A4 L0 | L0 A4 L165 A3 | A4 L0 | L0 A4
properties part number "_3DPrint"
